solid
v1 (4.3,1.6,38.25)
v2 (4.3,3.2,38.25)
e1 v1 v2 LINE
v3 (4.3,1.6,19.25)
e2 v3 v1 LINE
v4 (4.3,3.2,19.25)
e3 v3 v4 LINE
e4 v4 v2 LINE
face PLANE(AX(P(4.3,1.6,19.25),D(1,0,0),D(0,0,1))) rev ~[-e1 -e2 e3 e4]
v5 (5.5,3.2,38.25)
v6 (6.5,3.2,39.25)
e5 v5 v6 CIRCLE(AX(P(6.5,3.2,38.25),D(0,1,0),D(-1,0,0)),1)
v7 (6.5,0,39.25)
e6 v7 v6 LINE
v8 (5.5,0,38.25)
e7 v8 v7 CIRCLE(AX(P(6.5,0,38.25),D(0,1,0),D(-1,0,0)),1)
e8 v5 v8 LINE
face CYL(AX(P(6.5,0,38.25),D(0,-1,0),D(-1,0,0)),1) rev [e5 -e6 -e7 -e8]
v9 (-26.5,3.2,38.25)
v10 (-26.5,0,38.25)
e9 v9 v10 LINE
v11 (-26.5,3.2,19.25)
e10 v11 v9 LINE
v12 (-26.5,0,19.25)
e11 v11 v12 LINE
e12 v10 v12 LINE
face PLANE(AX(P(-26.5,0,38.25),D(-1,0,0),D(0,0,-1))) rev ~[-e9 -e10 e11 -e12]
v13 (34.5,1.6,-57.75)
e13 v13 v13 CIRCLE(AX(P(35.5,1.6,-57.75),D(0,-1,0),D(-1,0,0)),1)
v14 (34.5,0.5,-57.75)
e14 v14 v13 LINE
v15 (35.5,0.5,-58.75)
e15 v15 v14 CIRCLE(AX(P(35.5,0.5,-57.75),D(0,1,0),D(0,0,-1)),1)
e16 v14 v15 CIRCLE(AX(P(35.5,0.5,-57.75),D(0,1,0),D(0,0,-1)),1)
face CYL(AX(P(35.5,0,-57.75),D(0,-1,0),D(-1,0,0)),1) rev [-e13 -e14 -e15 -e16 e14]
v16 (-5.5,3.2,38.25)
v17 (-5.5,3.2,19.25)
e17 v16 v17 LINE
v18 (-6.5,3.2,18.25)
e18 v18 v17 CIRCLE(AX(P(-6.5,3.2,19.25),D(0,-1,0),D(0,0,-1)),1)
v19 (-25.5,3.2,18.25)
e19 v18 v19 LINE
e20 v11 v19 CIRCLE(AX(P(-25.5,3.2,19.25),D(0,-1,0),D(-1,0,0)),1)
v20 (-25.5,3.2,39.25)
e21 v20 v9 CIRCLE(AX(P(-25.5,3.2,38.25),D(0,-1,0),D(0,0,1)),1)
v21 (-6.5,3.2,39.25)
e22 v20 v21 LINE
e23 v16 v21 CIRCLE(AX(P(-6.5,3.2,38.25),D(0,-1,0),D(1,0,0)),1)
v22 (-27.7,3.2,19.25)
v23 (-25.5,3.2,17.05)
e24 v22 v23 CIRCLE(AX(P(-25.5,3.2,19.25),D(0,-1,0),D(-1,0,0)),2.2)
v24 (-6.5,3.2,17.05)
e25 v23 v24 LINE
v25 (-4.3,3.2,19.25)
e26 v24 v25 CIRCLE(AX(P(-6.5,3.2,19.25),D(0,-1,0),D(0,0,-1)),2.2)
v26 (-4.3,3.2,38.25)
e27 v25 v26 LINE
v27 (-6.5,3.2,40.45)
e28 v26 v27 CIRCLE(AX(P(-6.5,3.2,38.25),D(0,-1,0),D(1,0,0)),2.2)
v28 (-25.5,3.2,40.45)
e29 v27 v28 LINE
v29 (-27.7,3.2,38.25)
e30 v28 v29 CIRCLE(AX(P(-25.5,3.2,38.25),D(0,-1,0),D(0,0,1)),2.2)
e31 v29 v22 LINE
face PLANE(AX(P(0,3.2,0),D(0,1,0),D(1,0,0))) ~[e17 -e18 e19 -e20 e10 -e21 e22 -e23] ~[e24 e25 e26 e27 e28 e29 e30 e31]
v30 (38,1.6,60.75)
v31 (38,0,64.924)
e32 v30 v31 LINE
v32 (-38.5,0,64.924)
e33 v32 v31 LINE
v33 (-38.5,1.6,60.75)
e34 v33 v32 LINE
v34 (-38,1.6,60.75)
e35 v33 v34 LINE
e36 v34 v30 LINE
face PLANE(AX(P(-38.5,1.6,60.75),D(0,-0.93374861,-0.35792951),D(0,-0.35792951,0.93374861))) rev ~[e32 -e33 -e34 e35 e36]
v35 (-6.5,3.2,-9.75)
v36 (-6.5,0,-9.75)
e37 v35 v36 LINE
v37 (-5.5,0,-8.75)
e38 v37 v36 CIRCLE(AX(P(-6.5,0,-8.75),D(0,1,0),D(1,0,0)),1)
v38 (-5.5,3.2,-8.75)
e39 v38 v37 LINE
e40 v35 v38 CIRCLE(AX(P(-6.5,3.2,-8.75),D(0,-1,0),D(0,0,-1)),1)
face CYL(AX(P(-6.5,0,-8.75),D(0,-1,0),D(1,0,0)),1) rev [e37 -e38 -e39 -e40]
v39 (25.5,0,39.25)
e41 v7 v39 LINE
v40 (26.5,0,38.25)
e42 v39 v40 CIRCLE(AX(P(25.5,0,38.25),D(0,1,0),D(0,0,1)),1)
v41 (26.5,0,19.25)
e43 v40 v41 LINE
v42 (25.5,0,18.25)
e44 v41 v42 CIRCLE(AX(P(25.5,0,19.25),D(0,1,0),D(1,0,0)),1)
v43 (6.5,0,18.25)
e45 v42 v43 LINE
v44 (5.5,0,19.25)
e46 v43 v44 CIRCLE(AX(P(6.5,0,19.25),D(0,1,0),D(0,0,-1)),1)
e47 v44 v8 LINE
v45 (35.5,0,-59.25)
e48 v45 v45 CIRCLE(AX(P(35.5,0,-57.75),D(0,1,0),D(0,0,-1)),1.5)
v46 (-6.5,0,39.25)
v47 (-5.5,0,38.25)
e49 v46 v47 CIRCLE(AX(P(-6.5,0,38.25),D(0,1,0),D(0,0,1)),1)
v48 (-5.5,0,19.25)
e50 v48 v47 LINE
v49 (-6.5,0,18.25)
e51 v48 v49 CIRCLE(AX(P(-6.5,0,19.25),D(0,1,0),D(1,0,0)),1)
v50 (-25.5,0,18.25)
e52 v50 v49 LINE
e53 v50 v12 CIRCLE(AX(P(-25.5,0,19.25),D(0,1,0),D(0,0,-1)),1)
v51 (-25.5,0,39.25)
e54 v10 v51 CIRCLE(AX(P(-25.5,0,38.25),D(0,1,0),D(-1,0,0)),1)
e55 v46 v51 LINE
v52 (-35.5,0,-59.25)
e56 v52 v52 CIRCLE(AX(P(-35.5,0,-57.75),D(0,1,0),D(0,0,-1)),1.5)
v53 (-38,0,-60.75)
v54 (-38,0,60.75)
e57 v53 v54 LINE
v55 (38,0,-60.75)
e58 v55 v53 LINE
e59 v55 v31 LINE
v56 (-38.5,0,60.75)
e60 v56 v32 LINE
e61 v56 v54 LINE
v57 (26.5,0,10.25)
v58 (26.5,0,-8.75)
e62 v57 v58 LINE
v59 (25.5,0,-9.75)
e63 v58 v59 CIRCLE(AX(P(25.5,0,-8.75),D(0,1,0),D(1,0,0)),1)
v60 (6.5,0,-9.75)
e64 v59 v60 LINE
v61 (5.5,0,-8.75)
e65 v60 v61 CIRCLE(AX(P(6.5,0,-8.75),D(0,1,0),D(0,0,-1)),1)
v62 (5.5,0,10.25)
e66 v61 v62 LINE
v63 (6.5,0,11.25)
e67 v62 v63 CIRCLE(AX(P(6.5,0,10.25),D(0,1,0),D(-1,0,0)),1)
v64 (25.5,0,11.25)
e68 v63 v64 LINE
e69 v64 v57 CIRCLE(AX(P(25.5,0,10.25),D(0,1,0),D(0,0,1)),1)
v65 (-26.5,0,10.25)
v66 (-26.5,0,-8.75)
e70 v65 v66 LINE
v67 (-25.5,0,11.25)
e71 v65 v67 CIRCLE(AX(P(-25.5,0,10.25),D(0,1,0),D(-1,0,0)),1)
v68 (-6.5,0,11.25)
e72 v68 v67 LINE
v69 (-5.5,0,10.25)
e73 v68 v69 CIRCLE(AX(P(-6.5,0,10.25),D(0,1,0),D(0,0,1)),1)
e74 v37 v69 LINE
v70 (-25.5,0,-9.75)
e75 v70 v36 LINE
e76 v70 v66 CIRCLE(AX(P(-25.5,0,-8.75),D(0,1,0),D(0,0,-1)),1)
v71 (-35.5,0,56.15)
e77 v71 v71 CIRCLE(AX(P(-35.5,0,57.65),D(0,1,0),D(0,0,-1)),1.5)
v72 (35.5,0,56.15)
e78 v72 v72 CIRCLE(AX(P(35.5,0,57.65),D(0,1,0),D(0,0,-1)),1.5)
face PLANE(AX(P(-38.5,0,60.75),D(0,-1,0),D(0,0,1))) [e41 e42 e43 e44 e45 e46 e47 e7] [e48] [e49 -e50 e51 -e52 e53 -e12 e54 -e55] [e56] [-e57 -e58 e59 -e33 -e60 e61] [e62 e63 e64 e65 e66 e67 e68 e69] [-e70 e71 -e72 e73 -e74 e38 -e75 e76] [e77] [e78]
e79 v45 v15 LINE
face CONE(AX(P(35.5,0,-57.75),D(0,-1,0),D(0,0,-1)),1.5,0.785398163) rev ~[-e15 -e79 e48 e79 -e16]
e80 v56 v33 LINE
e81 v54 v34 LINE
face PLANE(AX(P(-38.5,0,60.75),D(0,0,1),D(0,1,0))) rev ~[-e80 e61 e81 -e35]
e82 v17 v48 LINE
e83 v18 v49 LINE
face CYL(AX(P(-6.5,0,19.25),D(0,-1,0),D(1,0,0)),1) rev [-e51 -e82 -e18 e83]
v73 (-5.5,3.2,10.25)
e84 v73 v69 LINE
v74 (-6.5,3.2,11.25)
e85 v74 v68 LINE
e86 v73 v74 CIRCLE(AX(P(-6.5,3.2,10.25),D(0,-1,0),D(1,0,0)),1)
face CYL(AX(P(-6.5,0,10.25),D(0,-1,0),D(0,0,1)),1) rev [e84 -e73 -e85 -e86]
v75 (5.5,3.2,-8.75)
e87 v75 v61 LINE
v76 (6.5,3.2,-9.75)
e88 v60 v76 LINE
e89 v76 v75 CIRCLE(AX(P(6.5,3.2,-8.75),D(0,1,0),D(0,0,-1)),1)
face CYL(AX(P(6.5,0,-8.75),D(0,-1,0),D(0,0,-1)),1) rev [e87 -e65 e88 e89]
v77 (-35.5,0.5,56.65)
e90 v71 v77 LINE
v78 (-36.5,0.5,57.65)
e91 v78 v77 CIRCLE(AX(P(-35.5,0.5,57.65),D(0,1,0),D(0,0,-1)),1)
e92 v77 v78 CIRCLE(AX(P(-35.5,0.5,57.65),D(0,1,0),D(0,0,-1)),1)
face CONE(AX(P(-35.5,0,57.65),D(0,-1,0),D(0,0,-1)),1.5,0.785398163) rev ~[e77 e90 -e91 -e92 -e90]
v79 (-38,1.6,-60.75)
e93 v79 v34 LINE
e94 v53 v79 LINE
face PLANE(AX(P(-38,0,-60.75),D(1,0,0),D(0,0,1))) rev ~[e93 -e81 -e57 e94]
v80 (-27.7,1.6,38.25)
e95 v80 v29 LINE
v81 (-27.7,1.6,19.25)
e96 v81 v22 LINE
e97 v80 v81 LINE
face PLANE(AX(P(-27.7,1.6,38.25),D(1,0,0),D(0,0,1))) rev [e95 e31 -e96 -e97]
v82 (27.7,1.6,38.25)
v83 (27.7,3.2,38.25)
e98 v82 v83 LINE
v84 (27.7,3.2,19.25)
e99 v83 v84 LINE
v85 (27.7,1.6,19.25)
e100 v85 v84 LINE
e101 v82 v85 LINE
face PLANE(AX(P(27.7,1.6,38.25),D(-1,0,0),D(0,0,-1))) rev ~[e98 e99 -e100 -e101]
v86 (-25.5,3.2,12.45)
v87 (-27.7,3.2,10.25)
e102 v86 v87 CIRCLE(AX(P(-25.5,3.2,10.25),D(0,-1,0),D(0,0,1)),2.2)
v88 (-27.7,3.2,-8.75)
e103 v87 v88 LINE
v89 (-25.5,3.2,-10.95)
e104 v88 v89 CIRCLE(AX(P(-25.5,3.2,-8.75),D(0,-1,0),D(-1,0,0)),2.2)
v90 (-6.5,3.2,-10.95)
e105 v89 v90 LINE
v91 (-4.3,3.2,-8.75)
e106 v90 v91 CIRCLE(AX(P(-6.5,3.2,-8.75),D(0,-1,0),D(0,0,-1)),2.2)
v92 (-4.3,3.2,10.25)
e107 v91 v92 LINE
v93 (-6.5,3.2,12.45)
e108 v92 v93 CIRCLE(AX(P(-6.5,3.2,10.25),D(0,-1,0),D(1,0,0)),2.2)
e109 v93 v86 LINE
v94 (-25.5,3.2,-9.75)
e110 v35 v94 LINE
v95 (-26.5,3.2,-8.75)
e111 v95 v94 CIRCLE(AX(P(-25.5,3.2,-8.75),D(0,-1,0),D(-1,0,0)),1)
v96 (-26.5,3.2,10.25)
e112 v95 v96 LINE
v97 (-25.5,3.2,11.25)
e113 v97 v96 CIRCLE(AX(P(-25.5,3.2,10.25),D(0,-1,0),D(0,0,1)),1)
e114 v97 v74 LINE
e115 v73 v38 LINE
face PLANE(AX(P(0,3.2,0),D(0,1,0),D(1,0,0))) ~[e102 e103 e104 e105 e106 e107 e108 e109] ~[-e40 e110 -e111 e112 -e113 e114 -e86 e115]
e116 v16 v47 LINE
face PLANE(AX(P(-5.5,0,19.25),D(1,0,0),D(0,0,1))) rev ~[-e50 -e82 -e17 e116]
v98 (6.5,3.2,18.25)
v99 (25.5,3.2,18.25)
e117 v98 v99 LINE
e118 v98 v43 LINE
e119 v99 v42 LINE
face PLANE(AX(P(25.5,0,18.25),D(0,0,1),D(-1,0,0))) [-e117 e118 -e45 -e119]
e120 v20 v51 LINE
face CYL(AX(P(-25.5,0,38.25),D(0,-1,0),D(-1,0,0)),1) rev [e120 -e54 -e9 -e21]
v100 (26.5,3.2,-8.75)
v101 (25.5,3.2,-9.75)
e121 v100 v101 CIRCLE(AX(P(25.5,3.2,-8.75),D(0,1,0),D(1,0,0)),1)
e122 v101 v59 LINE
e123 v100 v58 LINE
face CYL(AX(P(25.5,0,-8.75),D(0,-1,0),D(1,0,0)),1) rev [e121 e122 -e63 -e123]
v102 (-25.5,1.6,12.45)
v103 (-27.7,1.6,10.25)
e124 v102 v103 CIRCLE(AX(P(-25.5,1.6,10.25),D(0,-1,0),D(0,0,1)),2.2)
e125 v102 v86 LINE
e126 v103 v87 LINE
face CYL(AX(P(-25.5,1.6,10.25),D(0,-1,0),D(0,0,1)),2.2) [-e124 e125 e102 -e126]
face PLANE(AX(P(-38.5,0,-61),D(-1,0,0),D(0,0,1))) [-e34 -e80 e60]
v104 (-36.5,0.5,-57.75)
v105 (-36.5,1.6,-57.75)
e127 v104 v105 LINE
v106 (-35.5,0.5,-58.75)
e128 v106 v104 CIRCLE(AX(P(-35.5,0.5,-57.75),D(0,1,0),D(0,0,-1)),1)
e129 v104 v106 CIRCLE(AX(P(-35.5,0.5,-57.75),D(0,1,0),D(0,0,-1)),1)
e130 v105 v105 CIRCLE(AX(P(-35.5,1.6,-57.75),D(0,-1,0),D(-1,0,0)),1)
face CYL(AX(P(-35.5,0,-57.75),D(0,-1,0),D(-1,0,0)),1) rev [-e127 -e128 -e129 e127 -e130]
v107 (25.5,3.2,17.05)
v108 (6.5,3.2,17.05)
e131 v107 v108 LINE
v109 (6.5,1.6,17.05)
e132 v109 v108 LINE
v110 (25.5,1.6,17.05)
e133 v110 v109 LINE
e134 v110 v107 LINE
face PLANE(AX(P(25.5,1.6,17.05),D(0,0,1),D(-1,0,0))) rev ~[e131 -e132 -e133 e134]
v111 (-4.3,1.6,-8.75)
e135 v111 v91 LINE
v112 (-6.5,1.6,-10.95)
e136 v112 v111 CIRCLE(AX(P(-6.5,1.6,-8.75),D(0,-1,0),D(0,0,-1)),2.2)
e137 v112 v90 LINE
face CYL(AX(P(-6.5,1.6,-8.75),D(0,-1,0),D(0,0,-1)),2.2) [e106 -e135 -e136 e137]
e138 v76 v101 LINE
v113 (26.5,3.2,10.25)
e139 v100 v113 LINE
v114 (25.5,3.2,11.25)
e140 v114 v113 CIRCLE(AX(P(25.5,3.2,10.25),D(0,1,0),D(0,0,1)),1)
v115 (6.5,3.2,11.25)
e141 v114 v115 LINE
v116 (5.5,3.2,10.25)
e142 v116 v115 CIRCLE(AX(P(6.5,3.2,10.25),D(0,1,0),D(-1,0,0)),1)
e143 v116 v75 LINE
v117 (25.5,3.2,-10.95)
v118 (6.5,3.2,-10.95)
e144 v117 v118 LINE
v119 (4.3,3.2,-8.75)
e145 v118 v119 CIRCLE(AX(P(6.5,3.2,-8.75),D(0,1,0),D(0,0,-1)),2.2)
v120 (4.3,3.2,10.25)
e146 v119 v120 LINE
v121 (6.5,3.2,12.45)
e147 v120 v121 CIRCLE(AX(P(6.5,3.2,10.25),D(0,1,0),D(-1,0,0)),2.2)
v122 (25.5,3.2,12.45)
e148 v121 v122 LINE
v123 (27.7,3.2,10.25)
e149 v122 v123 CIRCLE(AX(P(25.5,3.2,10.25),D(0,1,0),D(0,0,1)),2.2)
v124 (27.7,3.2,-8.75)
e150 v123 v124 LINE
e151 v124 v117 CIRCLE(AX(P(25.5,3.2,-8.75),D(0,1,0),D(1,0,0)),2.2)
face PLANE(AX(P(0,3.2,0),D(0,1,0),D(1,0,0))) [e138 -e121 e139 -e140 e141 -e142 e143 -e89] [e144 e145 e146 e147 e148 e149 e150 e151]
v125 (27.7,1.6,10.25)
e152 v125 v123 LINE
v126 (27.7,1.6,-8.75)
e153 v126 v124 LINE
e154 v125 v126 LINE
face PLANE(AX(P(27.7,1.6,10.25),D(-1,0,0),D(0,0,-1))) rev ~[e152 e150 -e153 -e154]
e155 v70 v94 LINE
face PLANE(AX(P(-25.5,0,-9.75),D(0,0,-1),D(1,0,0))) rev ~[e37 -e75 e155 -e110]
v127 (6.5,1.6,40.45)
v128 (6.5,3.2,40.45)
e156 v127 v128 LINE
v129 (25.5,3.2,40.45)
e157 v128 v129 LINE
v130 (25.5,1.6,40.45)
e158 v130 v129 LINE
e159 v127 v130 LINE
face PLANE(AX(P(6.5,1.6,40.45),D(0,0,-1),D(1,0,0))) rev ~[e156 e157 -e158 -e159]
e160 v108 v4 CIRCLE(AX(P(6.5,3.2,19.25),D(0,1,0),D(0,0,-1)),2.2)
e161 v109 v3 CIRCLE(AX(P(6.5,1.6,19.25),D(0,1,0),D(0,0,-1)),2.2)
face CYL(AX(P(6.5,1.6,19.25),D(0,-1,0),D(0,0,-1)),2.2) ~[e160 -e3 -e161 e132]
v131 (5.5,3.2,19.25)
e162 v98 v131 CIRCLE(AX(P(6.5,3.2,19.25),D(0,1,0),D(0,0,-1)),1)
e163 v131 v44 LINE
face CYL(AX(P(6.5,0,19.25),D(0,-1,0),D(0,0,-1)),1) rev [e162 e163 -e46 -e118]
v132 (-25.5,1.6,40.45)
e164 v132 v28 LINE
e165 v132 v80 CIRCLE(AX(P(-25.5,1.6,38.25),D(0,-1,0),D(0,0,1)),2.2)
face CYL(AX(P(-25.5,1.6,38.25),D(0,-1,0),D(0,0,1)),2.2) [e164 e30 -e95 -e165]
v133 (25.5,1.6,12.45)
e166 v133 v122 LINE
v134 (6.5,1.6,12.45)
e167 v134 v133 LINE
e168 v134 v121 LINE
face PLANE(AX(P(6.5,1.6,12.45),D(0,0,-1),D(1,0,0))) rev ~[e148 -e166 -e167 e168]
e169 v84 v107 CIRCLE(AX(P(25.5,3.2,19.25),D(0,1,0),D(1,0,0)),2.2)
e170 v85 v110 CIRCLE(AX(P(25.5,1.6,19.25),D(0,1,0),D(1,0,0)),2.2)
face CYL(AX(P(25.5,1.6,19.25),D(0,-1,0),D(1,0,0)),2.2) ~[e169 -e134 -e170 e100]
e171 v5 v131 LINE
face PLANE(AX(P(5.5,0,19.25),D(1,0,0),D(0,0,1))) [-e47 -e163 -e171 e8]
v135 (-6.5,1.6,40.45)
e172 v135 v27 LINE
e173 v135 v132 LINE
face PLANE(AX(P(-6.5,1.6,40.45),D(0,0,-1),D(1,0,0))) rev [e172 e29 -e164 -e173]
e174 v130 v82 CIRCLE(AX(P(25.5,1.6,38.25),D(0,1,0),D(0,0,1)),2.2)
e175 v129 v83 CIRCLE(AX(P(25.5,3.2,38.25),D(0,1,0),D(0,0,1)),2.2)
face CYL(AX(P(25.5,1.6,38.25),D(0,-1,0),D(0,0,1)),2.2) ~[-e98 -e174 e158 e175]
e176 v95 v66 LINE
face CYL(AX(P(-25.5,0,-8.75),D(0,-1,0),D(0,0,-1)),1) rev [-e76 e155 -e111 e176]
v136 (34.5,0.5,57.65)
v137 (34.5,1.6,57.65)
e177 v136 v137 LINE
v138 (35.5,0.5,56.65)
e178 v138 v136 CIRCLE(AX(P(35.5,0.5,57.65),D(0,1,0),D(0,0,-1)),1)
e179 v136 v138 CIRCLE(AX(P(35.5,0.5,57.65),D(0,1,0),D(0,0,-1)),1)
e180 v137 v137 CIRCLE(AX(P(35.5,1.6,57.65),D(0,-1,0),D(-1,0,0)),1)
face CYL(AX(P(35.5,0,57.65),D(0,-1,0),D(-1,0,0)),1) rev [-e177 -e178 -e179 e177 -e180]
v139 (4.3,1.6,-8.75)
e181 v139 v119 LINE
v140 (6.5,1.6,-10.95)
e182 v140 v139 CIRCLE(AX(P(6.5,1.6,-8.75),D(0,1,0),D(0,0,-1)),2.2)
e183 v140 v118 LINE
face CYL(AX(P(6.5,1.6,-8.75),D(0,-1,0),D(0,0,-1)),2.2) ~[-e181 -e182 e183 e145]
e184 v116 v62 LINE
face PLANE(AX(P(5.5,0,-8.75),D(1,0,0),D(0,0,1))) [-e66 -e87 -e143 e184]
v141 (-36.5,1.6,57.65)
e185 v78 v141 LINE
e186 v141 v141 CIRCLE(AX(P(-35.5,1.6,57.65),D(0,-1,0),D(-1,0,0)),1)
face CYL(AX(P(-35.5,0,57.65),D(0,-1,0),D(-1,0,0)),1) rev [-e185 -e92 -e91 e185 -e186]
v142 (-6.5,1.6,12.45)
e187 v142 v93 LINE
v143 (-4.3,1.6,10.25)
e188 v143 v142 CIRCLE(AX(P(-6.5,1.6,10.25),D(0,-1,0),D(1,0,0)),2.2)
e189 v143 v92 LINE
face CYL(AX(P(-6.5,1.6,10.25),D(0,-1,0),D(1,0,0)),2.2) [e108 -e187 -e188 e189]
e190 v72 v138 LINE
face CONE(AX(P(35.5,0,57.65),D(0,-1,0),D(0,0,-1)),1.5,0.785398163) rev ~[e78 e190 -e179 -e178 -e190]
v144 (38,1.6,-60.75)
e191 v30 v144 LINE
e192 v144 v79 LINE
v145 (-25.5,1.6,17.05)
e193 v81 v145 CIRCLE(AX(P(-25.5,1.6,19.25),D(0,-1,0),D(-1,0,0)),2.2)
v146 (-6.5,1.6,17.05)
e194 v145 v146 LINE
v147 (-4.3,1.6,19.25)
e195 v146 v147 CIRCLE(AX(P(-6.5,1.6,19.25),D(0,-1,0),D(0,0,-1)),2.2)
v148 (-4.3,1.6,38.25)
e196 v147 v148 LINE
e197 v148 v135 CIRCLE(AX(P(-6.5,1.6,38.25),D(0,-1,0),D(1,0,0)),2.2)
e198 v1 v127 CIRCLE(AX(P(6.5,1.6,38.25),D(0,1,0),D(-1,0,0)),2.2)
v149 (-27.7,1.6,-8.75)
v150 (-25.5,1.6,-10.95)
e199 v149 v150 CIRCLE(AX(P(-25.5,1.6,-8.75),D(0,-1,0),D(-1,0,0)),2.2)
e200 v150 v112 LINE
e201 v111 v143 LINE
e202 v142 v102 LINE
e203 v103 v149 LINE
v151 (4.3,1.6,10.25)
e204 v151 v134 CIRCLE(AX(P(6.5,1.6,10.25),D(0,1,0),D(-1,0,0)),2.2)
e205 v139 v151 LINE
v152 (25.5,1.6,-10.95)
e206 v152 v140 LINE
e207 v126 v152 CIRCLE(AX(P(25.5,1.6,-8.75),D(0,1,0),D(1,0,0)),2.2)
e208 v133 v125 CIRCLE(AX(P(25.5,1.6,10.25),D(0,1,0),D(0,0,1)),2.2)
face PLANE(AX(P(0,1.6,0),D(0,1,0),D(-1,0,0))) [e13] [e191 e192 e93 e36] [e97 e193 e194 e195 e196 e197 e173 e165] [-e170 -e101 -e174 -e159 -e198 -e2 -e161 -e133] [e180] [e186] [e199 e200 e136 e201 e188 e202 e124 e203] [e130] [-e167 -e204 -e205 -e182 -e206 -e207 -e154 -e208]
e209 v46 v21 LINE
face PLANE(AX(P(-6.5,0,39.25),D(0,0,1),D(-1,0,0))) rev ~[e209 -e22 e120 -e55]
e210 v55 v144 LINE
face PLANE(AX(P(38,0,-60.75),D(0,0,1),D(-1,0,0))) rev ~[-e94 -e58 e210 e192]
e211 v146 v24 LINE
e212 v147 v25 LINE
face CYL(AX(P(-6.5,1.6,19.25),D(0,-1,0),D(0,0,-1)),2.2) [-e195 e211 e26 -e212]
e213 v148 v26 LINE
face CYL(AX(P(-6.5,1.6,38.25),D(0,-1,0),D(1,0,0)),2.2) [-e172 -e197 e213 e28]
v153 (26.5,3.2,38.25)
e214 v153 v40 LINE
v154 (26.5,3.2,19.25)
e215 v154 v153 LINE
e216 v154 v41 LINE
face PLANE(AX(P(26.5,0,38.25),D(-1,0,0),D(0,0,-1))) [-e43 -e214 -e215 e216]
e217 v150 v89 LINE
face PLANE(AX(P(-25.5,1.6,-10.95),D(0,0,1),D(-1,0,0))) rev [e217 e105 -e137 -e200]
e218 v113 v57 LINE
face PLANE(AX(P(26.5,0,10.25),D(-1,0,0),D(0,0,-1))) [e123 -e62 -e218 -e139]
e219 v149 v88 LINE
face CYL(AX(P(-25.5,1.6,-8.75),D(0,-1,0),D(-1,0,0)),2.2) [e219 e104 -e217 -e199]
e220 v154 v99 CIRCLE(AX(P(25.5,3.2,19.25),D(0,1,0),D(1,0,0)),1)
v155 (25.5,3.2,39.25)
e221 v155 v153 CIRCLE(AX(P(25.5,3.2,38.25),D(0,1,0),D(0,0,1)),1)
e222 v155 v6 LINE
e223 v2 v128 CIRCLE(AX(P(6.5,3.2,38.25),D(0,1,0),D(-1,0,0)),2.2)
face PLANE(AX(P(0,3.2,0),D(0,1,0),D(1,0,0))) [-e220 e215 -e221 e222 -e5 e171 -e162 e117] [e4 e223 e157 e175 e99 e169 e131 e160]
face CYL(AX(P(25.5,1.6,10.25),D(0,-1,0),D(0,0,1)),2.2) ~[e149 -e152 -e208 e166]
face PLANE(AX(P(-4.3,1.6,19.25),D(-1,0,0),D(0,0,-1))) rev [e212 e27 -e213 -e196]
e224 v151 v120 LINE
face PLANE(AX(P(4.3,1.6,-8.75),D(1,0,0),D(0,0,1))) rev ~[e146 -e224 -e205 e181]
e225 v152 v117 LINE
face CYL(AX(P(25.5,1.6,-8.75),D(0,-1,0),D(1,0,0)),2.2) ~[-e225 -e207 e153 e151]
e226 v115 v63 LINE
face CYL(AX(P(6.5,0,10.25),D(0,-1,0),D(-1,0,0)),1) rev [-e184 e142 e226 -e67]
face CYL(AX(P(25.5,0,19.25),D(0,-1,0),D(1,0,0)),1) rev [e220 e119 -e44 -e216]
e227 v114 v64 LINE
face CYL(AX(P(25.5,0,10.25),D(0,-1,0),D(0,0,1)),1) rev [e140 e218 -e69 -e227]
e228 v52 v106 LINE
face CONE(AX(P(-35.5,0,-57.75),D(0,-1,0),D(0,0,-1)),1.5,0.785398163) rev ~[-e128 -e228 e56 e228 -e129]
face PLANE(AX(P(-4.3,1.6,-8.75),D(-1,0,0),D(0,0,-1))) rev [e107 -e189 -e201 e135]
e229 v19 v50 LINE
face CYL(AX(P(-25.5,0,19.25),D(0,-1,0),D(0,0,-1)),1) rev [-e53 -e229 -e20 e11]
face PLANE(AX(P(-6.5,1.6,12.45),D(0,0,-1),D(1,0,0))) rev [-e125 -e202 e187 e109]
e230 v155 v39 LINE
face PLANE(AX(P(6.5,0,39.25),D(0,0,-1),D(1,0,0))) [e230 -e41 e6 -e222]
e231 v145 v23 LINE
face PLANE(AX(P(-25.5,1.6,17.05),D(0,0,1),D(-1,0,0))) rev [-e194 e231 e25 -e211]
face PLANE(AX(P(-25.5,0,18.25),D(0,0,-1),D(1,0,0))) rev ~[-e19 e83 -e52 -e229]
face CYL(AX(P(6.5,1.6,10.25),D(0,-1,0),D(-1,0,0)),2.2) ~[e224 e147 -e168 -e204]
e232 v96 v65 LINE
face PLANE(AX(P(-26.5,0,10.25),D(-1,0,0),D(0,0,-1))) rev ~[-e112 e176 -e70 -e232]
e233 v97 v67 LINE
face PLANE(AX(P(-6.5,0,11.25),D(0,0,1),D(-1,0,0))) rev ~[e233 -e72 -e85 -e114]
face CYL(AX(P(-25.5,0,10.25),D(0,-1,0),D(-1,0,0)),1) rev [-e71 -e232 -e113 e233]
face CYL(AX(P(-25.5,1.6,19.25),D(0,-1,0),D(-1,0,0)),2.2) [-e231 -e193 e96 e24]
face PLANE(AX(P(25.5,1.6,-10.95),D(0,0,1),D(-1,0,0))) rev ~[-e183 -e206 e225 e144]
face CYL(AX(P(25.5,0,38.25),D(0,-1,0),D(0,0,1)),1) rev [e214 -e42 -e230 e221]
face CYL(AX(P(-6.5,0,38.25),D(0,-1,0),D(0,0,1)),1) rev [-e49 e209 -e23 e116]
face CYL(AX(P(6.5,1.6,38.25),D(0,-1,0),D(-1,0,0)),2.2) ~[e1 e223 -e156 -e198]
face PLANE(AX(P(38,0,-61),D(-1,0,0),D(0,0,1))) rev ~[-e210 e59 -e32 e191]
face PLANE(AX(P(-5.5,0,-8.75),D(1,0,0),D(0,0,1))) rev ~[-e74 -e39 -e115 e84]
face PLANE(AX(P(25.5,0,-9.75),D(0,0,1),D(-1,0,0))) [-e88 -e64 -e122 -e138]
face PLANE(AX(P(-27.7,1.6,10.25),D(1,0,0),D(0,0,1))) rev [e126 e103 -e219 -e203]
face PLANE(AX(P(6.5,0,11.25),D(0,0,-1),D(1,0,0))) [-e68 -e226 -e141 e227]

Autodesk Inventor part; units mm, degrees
ref_plane "YZ Plane" through (0, 0, 0) normal (1, 0, 0) x (0, 1, 0)
sketch "Sketch1" plane through (0, 0, 0) normal (0, 1, 0) x (-1, 0, 0)
  line L0 (38, 60.75) -> (-38, 60.75)
  line L1 (-38, 60.75) -> (-38, -60.75)
  line L2 (-38, -60.75) -> (38, -60.75)
  line L3 (38, -60.75) -> (38, 60.75)
  line L4 (0, 60.75) -> (0, -60.75) construction
  line L5 (-6.5, 39.25) -> (-25.5, 39.25)
  line L6 (-26.5, 38.25) -> (-26.5, 19.25)
  line L7 (-25.5, 18.25) -> (-6.5, 18.25)
  line L8 (-5.5, 19.25) -> (-5.5, 38.25)
  arc A0 (-5.5, 38.25) -> (-6.5, 39.25) centre (-6.5, 38.25) ccw
  arc A1 (-6.5, 18.25) -> (-5.5, 19.25) centre (-6.5, 19.25) ccw
  arc A2 (-26.5, 19.25) -> (-25.5, 18.25) centre (-25.5, 19.25) ccw
  arc A3 (-25.5, 39.25) -> (-26.5, 38.25) centre (-25.5, 38.25) ccw
  circle A4 centre (35.5, 57.65) radius 1
  circle A5 centre (-35.5, 57.65) radius 1
  line L9 (0, 0) -> (-51.842, 0) construction
  circle A6 centre (35.5, -57.75) radius 1
  circle A7 centre (-35.5, -57.75) radius 1
  line L10 (6.5, 39.25) -> (25.5, 39.25)
  line L11 (26.5, 38.25) -> (26.5, 19.25)
  line L12 (25.5, 18.25) -> (6.5, 18.25)
  line L13 (5.5, 19.25) -> (5.5, 38.25)
  arc A8 (6.5, 39.25) -> (5.5, 38.25) centre (6.5, 38.25) ccw
  arc A9 (5.5, 19.25) -> (6.5, 18.25) centre (6.5, 19.25) ccw
  arc A10 (25.5, 18.25) -> (26.5, 19.25) centre (25.5, 19.25) ccw
  arc A11 (26.5, 38.25) -> (25.5, 39.25) centre (25.5, 38.25) ccw
  line L14 (25.5, -9.75) -> (6.5, -9.75)
  arc A12 (25.5, -9.75) -> (26.5, -8.75) centre (25.5, -8.75) ccw
  arc A13 (5.5, -8.75) -> (6.5, -9.75) centre (6.5, -8.75) ccw
  arc A14 (-6.5, -9.75) -> (-5.5, -8.75) centre (-6.5, -8.75) ccw
  line L15 (-25.5, -9.75) -> (-6.5, -9.75)
  arc A15 (-26.5, -8.75) -> (-25.5, -9.75) centre (-25.5, -8.75) ccw
  line L16 (-6.5, 11.25) -> (-25.5, 11.25)
  line L17 (-26.5, 10.25) -> (-26.5, -8.75)
  line L18 (-5.5, -8.75) -> (-5.5, 10.25)
  arc A16 (-5.5, 10.25) -> (-6.5, 11.25) centre (-6.5, 10.25) ccw
  arc A17 (-25.5, 11.25) -> (-26.5, 10.25) centre (-25.5, 10.25) ccw
  line L19 (5.5, -8.75) -> (5.5, 10.25)
  line L20 (26.5, 10.25) -> (26.5, -8.75)
  arc A18 (6.5, 11.25) -> (5.5, 10.25) centre (6.5, 10.25) ccw
  line L21 (6.5, 11.25) -> (25.5, 11.25)
  arc A19 (26.5, 10.25) -> (25.5, 11.25) centre (25.5, 10.25) ccw
  point P0 (-26.5, 18.25)
  point P1 (-26.5, 39.25)
  point P2 (-5.5, 18.25)
  point P3 (26.5, 18.25)
  point P4 (26.5, 39.25)
  point P5 (5.5, 18.25)
  point P6 (26.5, -9.75)
  point P7 (5.5, -9.75)
  point P8 (-5.5, -9.75)
  point P9 (-26.5, -9.75)
  point P10 (-26.5, 11.25)
  point P11 (26.5, 11.25)
  dimension "d0" = 121.5
  dimension "d1" = 76
  dimension "d2" = 21
  dimension "d3" = 21
  dimension "d5" = 1
  dimension "d15" = 2
  dimension "d30" = 3.1
  dimension "d31" = 2.5
  dimension "d33" = 3
  dimension "d52" = 5.5
  dimension "d55" = 28
  dimension "d60" = 100
  dimension "d73" = 2.5
  dimension "d74" = 2.5
  dimension "d75" = 2.5
extrude "Extrusion6" add sketch "Sketch1" along normal blind 1.6
hole "Hole3" at (-35.5, 0, 57.65) at (35.5, 0, 57.65) at (-35.5, 0, -57.75) at (35.5, 0, -57.75) direction (0, 1, 0) diameter 2 depth 8 tip angle 118 countersink diameter 3 countersink angle 90
ref_plane "Work Plane1" through (-38.5, 0, -61) normal (-1, 0, 0) x (0, 0, 1)
sketch "Sketch2" plane through (-38.5, 0, -61) normal (-1, 0, 0) x (0, 0, 1)
  line L0 (0, 0) -> (121.75, 0) projected
  line L1 (121.75, 0) -> (121.75, 1.6) projected
  line L2 (121.75, 1.6) -> (125.924, 0)
  line L3 (121.75, 0) -> (125.924, 0)
  point P0 (61, 0)
  point P1 (121.924, 0)
ref_plane "Work Plane2" through (0, 1.5, 0) normal (0, 1, 0) x (1, 0, 0)
extrude "Extrusion8" add sketch "Sketch2" against normal up to surface (76.5 mm away)
sketch "Sketch4" plane through (0, 1.6, 0) normal (0, 1, 0) x (1, 0, 0)
  arc A0 (6.5, 9.75) -> (5.5, 8.75) centre (6.5, 8.75) ccw projected
  line L0 (6.5, 9.75) -> (25.5, 9.75) projected
  arc A1 (26.5, 8.75) -> (25.5, 9.75) centre (25.5, 8.75) ccw projected
  line L1 (26.5, 8.75) -> (26.5, -10.25) projected
  arc A2 (25.5, -11.25) -> (26.5, -10.25) centre (25.5, -10.25) ccw projected
  line L2 (25.5, -11.25) -> (6.5, -11.25) projected
  arc A3 (5.5, -10.25) -> (6.5, -11.25) centre (6.5, -10.25) ccw projected
  line L3 (5.5, -10.25) -> (5.5, 8.75) projected
  arc A4 (-5.5, 8.75) -> (-6.5, 9.75) centre (-6.5, 8.75) ccw projected
  line L4 (-5.5, 8.75) -> (-5.5, -10.25) projected
  arc A5 (-6.5, -11.25) -> (-5.5, -10.25) centre (-6.5, -10.25) ccw projected
  line L5 (-6.5, -11.25) -> (-25.5, -11.25) projected
  arc A6 (-26.5, -10.25) -> (-25.5, -11.25) centre (-25.5, -10.25) ccw projected
  line L6 (-26.5, -10.25) -> (-26.5, 8.75) projected
  arc A7 (-25.5, 9.75) -> (-26.5, 8.75) centre (-25.5, 8.75) ccw projected
  line L7 (-25.5, 9.75) -> (-6.5, 9.75) projected
  arc A8 (-5.5, -19.25) -> (-6.5, -18.25) centre (-6.5, -19.25) ccw projected
  line L8 (-5.5, -19.25) -> (-5.5, -38.25) projected
  arc A9 (-6.5, -39.25) -> (-5.5, -38.25) centre (-6.5, -38.25) ccw projected
  line L9 (-6.5, -39.25) -> (-25.5, -39.25) projected
  arc A10 (-26.5, -38.25) -> (-25.5, -39.25) centre (-25.5, -38.25) ccw projected
  line L10 (-26.5, -38.25) -> (-26.5, -19.25) projected
  arc A11 (-25.5, -18.25) -> (-26.5, -19.25) centre (-25.5, -19.25) ccw projected
  line L11 (-25.5, -18.25) -> (-6.5, -18.25) projected
  arc A12 (6.5, -18.25) -> (5.5, -19.25) centre (6.5, -19.25) ccw projected
  line L12 (6.5, -18.25) -> (25.5, -18.25) projected
  arc A13 (26.5, -19.25) -> (25.5, -18.25) centre (25.5, -19.25) ccw projected
  line L13 (26.5, -19.25) -> (26.5, -38.25) projected
  arc A14 (25.5, -39.25) -> (26.5, -38.25) centre (25.5, -38.25) ccw projected
  line L14 (25.5, -39.25) -> (6.5, -39.25) projected
  arc A15 (5.5, -38.25) -> (6.5, -39.25) centre (6.5, -38.25) ccw projected
  line L15 (5.5, -38.25) -> (5.5, -19.25) projected
  circle A16 centre (35.5, 57.75) radius 1 projected
  circle A17 centre (-35.5, 57.75) radius 1 projected
  circle A18 centre (35.5, -57.65) radius 1 projected
  circle A19 centre (-35.5, -57.65) radius 1 projected
  line L16 (-38, -60.75) -> (38, -60.75) projected
  line L17 (38, -60.75) -> (38, 60.75) projected
  line L18 (38, 60.75) -> (-38, 60.75) projected
  line L19 (-38, 60.75) -> (-38, -60.75) projected
  line L20 (6.5, -40.45) -> (25.5, -40.45)
  arc A20 (25.5, -40.45) -> (27.7, -38.25) centre (25.5, -38.25) ccw
  line L21 (27.7, -38.25) -> (27.7, -19.25)
  arc A21 (27.7, -19.25) -> (25.5, -17.05) centre (25.5, -19.25) ccw
  line L22 (25.5, -17.05) -> (6.5, -17.05)
  arc A22 (6.5, -17.05) -> (4.3, -19.25) centre (6.5, -19.25) ccw
  line L23 (4.3, -19.25) -> (4.3, -38.25)
  arc A23 (4.3, -38.25) -> (6.5, -40.45) centre (6.5, -38.25) ccw
  line L24 (6.5, -12.45) -> (25.5, -12.45)
  arc A24 (25.5, -12.45) -> (27.7, -10.25) centre (25.5, -10.25) ccw
  line L25 (27.7, -10.25) -> (27.7, 8.75)
  arc A25 (27.7, 8.75) -> (25.5, 10.95) centre (25.5, 8.75) ccw
  line L26 (25.5, 10.95) -> (6.5, 10.95)
  arc A26 (6.5, 10.95) -> (4.3, 8.75) centre (6.5, 8.75) ccw
  line L27 (4.3, 8.75) -> (4.3, -10.25)
  arc A27 (4.3, -10.25) -> (6.5, -12.45) centre (6.5, -10.25) ccw
  point P0 (0, 0)
  dimension "d69" = 1.2
  dimension "d70" = 1.2
extrude "Extrusion9" add sketch "Sketch4" along normal blind 1.6 contours A23 L23 A22 L22 A21 L21 A20 L20 | A27 L27 A26 L26 A25 L25 A24 L24
mirror "Mirror1" about plane through (0, 0, 0) normal (1, 0, 0) of "Extrusion9"
equation "\"d2\" = d3"
equation "\"d3\" = 1.05 * button_side"
equation "\"d73\" = d31"
equation "\"button_side\" = 20"
properties part number "front_cover" material "Aluminum 6061"
